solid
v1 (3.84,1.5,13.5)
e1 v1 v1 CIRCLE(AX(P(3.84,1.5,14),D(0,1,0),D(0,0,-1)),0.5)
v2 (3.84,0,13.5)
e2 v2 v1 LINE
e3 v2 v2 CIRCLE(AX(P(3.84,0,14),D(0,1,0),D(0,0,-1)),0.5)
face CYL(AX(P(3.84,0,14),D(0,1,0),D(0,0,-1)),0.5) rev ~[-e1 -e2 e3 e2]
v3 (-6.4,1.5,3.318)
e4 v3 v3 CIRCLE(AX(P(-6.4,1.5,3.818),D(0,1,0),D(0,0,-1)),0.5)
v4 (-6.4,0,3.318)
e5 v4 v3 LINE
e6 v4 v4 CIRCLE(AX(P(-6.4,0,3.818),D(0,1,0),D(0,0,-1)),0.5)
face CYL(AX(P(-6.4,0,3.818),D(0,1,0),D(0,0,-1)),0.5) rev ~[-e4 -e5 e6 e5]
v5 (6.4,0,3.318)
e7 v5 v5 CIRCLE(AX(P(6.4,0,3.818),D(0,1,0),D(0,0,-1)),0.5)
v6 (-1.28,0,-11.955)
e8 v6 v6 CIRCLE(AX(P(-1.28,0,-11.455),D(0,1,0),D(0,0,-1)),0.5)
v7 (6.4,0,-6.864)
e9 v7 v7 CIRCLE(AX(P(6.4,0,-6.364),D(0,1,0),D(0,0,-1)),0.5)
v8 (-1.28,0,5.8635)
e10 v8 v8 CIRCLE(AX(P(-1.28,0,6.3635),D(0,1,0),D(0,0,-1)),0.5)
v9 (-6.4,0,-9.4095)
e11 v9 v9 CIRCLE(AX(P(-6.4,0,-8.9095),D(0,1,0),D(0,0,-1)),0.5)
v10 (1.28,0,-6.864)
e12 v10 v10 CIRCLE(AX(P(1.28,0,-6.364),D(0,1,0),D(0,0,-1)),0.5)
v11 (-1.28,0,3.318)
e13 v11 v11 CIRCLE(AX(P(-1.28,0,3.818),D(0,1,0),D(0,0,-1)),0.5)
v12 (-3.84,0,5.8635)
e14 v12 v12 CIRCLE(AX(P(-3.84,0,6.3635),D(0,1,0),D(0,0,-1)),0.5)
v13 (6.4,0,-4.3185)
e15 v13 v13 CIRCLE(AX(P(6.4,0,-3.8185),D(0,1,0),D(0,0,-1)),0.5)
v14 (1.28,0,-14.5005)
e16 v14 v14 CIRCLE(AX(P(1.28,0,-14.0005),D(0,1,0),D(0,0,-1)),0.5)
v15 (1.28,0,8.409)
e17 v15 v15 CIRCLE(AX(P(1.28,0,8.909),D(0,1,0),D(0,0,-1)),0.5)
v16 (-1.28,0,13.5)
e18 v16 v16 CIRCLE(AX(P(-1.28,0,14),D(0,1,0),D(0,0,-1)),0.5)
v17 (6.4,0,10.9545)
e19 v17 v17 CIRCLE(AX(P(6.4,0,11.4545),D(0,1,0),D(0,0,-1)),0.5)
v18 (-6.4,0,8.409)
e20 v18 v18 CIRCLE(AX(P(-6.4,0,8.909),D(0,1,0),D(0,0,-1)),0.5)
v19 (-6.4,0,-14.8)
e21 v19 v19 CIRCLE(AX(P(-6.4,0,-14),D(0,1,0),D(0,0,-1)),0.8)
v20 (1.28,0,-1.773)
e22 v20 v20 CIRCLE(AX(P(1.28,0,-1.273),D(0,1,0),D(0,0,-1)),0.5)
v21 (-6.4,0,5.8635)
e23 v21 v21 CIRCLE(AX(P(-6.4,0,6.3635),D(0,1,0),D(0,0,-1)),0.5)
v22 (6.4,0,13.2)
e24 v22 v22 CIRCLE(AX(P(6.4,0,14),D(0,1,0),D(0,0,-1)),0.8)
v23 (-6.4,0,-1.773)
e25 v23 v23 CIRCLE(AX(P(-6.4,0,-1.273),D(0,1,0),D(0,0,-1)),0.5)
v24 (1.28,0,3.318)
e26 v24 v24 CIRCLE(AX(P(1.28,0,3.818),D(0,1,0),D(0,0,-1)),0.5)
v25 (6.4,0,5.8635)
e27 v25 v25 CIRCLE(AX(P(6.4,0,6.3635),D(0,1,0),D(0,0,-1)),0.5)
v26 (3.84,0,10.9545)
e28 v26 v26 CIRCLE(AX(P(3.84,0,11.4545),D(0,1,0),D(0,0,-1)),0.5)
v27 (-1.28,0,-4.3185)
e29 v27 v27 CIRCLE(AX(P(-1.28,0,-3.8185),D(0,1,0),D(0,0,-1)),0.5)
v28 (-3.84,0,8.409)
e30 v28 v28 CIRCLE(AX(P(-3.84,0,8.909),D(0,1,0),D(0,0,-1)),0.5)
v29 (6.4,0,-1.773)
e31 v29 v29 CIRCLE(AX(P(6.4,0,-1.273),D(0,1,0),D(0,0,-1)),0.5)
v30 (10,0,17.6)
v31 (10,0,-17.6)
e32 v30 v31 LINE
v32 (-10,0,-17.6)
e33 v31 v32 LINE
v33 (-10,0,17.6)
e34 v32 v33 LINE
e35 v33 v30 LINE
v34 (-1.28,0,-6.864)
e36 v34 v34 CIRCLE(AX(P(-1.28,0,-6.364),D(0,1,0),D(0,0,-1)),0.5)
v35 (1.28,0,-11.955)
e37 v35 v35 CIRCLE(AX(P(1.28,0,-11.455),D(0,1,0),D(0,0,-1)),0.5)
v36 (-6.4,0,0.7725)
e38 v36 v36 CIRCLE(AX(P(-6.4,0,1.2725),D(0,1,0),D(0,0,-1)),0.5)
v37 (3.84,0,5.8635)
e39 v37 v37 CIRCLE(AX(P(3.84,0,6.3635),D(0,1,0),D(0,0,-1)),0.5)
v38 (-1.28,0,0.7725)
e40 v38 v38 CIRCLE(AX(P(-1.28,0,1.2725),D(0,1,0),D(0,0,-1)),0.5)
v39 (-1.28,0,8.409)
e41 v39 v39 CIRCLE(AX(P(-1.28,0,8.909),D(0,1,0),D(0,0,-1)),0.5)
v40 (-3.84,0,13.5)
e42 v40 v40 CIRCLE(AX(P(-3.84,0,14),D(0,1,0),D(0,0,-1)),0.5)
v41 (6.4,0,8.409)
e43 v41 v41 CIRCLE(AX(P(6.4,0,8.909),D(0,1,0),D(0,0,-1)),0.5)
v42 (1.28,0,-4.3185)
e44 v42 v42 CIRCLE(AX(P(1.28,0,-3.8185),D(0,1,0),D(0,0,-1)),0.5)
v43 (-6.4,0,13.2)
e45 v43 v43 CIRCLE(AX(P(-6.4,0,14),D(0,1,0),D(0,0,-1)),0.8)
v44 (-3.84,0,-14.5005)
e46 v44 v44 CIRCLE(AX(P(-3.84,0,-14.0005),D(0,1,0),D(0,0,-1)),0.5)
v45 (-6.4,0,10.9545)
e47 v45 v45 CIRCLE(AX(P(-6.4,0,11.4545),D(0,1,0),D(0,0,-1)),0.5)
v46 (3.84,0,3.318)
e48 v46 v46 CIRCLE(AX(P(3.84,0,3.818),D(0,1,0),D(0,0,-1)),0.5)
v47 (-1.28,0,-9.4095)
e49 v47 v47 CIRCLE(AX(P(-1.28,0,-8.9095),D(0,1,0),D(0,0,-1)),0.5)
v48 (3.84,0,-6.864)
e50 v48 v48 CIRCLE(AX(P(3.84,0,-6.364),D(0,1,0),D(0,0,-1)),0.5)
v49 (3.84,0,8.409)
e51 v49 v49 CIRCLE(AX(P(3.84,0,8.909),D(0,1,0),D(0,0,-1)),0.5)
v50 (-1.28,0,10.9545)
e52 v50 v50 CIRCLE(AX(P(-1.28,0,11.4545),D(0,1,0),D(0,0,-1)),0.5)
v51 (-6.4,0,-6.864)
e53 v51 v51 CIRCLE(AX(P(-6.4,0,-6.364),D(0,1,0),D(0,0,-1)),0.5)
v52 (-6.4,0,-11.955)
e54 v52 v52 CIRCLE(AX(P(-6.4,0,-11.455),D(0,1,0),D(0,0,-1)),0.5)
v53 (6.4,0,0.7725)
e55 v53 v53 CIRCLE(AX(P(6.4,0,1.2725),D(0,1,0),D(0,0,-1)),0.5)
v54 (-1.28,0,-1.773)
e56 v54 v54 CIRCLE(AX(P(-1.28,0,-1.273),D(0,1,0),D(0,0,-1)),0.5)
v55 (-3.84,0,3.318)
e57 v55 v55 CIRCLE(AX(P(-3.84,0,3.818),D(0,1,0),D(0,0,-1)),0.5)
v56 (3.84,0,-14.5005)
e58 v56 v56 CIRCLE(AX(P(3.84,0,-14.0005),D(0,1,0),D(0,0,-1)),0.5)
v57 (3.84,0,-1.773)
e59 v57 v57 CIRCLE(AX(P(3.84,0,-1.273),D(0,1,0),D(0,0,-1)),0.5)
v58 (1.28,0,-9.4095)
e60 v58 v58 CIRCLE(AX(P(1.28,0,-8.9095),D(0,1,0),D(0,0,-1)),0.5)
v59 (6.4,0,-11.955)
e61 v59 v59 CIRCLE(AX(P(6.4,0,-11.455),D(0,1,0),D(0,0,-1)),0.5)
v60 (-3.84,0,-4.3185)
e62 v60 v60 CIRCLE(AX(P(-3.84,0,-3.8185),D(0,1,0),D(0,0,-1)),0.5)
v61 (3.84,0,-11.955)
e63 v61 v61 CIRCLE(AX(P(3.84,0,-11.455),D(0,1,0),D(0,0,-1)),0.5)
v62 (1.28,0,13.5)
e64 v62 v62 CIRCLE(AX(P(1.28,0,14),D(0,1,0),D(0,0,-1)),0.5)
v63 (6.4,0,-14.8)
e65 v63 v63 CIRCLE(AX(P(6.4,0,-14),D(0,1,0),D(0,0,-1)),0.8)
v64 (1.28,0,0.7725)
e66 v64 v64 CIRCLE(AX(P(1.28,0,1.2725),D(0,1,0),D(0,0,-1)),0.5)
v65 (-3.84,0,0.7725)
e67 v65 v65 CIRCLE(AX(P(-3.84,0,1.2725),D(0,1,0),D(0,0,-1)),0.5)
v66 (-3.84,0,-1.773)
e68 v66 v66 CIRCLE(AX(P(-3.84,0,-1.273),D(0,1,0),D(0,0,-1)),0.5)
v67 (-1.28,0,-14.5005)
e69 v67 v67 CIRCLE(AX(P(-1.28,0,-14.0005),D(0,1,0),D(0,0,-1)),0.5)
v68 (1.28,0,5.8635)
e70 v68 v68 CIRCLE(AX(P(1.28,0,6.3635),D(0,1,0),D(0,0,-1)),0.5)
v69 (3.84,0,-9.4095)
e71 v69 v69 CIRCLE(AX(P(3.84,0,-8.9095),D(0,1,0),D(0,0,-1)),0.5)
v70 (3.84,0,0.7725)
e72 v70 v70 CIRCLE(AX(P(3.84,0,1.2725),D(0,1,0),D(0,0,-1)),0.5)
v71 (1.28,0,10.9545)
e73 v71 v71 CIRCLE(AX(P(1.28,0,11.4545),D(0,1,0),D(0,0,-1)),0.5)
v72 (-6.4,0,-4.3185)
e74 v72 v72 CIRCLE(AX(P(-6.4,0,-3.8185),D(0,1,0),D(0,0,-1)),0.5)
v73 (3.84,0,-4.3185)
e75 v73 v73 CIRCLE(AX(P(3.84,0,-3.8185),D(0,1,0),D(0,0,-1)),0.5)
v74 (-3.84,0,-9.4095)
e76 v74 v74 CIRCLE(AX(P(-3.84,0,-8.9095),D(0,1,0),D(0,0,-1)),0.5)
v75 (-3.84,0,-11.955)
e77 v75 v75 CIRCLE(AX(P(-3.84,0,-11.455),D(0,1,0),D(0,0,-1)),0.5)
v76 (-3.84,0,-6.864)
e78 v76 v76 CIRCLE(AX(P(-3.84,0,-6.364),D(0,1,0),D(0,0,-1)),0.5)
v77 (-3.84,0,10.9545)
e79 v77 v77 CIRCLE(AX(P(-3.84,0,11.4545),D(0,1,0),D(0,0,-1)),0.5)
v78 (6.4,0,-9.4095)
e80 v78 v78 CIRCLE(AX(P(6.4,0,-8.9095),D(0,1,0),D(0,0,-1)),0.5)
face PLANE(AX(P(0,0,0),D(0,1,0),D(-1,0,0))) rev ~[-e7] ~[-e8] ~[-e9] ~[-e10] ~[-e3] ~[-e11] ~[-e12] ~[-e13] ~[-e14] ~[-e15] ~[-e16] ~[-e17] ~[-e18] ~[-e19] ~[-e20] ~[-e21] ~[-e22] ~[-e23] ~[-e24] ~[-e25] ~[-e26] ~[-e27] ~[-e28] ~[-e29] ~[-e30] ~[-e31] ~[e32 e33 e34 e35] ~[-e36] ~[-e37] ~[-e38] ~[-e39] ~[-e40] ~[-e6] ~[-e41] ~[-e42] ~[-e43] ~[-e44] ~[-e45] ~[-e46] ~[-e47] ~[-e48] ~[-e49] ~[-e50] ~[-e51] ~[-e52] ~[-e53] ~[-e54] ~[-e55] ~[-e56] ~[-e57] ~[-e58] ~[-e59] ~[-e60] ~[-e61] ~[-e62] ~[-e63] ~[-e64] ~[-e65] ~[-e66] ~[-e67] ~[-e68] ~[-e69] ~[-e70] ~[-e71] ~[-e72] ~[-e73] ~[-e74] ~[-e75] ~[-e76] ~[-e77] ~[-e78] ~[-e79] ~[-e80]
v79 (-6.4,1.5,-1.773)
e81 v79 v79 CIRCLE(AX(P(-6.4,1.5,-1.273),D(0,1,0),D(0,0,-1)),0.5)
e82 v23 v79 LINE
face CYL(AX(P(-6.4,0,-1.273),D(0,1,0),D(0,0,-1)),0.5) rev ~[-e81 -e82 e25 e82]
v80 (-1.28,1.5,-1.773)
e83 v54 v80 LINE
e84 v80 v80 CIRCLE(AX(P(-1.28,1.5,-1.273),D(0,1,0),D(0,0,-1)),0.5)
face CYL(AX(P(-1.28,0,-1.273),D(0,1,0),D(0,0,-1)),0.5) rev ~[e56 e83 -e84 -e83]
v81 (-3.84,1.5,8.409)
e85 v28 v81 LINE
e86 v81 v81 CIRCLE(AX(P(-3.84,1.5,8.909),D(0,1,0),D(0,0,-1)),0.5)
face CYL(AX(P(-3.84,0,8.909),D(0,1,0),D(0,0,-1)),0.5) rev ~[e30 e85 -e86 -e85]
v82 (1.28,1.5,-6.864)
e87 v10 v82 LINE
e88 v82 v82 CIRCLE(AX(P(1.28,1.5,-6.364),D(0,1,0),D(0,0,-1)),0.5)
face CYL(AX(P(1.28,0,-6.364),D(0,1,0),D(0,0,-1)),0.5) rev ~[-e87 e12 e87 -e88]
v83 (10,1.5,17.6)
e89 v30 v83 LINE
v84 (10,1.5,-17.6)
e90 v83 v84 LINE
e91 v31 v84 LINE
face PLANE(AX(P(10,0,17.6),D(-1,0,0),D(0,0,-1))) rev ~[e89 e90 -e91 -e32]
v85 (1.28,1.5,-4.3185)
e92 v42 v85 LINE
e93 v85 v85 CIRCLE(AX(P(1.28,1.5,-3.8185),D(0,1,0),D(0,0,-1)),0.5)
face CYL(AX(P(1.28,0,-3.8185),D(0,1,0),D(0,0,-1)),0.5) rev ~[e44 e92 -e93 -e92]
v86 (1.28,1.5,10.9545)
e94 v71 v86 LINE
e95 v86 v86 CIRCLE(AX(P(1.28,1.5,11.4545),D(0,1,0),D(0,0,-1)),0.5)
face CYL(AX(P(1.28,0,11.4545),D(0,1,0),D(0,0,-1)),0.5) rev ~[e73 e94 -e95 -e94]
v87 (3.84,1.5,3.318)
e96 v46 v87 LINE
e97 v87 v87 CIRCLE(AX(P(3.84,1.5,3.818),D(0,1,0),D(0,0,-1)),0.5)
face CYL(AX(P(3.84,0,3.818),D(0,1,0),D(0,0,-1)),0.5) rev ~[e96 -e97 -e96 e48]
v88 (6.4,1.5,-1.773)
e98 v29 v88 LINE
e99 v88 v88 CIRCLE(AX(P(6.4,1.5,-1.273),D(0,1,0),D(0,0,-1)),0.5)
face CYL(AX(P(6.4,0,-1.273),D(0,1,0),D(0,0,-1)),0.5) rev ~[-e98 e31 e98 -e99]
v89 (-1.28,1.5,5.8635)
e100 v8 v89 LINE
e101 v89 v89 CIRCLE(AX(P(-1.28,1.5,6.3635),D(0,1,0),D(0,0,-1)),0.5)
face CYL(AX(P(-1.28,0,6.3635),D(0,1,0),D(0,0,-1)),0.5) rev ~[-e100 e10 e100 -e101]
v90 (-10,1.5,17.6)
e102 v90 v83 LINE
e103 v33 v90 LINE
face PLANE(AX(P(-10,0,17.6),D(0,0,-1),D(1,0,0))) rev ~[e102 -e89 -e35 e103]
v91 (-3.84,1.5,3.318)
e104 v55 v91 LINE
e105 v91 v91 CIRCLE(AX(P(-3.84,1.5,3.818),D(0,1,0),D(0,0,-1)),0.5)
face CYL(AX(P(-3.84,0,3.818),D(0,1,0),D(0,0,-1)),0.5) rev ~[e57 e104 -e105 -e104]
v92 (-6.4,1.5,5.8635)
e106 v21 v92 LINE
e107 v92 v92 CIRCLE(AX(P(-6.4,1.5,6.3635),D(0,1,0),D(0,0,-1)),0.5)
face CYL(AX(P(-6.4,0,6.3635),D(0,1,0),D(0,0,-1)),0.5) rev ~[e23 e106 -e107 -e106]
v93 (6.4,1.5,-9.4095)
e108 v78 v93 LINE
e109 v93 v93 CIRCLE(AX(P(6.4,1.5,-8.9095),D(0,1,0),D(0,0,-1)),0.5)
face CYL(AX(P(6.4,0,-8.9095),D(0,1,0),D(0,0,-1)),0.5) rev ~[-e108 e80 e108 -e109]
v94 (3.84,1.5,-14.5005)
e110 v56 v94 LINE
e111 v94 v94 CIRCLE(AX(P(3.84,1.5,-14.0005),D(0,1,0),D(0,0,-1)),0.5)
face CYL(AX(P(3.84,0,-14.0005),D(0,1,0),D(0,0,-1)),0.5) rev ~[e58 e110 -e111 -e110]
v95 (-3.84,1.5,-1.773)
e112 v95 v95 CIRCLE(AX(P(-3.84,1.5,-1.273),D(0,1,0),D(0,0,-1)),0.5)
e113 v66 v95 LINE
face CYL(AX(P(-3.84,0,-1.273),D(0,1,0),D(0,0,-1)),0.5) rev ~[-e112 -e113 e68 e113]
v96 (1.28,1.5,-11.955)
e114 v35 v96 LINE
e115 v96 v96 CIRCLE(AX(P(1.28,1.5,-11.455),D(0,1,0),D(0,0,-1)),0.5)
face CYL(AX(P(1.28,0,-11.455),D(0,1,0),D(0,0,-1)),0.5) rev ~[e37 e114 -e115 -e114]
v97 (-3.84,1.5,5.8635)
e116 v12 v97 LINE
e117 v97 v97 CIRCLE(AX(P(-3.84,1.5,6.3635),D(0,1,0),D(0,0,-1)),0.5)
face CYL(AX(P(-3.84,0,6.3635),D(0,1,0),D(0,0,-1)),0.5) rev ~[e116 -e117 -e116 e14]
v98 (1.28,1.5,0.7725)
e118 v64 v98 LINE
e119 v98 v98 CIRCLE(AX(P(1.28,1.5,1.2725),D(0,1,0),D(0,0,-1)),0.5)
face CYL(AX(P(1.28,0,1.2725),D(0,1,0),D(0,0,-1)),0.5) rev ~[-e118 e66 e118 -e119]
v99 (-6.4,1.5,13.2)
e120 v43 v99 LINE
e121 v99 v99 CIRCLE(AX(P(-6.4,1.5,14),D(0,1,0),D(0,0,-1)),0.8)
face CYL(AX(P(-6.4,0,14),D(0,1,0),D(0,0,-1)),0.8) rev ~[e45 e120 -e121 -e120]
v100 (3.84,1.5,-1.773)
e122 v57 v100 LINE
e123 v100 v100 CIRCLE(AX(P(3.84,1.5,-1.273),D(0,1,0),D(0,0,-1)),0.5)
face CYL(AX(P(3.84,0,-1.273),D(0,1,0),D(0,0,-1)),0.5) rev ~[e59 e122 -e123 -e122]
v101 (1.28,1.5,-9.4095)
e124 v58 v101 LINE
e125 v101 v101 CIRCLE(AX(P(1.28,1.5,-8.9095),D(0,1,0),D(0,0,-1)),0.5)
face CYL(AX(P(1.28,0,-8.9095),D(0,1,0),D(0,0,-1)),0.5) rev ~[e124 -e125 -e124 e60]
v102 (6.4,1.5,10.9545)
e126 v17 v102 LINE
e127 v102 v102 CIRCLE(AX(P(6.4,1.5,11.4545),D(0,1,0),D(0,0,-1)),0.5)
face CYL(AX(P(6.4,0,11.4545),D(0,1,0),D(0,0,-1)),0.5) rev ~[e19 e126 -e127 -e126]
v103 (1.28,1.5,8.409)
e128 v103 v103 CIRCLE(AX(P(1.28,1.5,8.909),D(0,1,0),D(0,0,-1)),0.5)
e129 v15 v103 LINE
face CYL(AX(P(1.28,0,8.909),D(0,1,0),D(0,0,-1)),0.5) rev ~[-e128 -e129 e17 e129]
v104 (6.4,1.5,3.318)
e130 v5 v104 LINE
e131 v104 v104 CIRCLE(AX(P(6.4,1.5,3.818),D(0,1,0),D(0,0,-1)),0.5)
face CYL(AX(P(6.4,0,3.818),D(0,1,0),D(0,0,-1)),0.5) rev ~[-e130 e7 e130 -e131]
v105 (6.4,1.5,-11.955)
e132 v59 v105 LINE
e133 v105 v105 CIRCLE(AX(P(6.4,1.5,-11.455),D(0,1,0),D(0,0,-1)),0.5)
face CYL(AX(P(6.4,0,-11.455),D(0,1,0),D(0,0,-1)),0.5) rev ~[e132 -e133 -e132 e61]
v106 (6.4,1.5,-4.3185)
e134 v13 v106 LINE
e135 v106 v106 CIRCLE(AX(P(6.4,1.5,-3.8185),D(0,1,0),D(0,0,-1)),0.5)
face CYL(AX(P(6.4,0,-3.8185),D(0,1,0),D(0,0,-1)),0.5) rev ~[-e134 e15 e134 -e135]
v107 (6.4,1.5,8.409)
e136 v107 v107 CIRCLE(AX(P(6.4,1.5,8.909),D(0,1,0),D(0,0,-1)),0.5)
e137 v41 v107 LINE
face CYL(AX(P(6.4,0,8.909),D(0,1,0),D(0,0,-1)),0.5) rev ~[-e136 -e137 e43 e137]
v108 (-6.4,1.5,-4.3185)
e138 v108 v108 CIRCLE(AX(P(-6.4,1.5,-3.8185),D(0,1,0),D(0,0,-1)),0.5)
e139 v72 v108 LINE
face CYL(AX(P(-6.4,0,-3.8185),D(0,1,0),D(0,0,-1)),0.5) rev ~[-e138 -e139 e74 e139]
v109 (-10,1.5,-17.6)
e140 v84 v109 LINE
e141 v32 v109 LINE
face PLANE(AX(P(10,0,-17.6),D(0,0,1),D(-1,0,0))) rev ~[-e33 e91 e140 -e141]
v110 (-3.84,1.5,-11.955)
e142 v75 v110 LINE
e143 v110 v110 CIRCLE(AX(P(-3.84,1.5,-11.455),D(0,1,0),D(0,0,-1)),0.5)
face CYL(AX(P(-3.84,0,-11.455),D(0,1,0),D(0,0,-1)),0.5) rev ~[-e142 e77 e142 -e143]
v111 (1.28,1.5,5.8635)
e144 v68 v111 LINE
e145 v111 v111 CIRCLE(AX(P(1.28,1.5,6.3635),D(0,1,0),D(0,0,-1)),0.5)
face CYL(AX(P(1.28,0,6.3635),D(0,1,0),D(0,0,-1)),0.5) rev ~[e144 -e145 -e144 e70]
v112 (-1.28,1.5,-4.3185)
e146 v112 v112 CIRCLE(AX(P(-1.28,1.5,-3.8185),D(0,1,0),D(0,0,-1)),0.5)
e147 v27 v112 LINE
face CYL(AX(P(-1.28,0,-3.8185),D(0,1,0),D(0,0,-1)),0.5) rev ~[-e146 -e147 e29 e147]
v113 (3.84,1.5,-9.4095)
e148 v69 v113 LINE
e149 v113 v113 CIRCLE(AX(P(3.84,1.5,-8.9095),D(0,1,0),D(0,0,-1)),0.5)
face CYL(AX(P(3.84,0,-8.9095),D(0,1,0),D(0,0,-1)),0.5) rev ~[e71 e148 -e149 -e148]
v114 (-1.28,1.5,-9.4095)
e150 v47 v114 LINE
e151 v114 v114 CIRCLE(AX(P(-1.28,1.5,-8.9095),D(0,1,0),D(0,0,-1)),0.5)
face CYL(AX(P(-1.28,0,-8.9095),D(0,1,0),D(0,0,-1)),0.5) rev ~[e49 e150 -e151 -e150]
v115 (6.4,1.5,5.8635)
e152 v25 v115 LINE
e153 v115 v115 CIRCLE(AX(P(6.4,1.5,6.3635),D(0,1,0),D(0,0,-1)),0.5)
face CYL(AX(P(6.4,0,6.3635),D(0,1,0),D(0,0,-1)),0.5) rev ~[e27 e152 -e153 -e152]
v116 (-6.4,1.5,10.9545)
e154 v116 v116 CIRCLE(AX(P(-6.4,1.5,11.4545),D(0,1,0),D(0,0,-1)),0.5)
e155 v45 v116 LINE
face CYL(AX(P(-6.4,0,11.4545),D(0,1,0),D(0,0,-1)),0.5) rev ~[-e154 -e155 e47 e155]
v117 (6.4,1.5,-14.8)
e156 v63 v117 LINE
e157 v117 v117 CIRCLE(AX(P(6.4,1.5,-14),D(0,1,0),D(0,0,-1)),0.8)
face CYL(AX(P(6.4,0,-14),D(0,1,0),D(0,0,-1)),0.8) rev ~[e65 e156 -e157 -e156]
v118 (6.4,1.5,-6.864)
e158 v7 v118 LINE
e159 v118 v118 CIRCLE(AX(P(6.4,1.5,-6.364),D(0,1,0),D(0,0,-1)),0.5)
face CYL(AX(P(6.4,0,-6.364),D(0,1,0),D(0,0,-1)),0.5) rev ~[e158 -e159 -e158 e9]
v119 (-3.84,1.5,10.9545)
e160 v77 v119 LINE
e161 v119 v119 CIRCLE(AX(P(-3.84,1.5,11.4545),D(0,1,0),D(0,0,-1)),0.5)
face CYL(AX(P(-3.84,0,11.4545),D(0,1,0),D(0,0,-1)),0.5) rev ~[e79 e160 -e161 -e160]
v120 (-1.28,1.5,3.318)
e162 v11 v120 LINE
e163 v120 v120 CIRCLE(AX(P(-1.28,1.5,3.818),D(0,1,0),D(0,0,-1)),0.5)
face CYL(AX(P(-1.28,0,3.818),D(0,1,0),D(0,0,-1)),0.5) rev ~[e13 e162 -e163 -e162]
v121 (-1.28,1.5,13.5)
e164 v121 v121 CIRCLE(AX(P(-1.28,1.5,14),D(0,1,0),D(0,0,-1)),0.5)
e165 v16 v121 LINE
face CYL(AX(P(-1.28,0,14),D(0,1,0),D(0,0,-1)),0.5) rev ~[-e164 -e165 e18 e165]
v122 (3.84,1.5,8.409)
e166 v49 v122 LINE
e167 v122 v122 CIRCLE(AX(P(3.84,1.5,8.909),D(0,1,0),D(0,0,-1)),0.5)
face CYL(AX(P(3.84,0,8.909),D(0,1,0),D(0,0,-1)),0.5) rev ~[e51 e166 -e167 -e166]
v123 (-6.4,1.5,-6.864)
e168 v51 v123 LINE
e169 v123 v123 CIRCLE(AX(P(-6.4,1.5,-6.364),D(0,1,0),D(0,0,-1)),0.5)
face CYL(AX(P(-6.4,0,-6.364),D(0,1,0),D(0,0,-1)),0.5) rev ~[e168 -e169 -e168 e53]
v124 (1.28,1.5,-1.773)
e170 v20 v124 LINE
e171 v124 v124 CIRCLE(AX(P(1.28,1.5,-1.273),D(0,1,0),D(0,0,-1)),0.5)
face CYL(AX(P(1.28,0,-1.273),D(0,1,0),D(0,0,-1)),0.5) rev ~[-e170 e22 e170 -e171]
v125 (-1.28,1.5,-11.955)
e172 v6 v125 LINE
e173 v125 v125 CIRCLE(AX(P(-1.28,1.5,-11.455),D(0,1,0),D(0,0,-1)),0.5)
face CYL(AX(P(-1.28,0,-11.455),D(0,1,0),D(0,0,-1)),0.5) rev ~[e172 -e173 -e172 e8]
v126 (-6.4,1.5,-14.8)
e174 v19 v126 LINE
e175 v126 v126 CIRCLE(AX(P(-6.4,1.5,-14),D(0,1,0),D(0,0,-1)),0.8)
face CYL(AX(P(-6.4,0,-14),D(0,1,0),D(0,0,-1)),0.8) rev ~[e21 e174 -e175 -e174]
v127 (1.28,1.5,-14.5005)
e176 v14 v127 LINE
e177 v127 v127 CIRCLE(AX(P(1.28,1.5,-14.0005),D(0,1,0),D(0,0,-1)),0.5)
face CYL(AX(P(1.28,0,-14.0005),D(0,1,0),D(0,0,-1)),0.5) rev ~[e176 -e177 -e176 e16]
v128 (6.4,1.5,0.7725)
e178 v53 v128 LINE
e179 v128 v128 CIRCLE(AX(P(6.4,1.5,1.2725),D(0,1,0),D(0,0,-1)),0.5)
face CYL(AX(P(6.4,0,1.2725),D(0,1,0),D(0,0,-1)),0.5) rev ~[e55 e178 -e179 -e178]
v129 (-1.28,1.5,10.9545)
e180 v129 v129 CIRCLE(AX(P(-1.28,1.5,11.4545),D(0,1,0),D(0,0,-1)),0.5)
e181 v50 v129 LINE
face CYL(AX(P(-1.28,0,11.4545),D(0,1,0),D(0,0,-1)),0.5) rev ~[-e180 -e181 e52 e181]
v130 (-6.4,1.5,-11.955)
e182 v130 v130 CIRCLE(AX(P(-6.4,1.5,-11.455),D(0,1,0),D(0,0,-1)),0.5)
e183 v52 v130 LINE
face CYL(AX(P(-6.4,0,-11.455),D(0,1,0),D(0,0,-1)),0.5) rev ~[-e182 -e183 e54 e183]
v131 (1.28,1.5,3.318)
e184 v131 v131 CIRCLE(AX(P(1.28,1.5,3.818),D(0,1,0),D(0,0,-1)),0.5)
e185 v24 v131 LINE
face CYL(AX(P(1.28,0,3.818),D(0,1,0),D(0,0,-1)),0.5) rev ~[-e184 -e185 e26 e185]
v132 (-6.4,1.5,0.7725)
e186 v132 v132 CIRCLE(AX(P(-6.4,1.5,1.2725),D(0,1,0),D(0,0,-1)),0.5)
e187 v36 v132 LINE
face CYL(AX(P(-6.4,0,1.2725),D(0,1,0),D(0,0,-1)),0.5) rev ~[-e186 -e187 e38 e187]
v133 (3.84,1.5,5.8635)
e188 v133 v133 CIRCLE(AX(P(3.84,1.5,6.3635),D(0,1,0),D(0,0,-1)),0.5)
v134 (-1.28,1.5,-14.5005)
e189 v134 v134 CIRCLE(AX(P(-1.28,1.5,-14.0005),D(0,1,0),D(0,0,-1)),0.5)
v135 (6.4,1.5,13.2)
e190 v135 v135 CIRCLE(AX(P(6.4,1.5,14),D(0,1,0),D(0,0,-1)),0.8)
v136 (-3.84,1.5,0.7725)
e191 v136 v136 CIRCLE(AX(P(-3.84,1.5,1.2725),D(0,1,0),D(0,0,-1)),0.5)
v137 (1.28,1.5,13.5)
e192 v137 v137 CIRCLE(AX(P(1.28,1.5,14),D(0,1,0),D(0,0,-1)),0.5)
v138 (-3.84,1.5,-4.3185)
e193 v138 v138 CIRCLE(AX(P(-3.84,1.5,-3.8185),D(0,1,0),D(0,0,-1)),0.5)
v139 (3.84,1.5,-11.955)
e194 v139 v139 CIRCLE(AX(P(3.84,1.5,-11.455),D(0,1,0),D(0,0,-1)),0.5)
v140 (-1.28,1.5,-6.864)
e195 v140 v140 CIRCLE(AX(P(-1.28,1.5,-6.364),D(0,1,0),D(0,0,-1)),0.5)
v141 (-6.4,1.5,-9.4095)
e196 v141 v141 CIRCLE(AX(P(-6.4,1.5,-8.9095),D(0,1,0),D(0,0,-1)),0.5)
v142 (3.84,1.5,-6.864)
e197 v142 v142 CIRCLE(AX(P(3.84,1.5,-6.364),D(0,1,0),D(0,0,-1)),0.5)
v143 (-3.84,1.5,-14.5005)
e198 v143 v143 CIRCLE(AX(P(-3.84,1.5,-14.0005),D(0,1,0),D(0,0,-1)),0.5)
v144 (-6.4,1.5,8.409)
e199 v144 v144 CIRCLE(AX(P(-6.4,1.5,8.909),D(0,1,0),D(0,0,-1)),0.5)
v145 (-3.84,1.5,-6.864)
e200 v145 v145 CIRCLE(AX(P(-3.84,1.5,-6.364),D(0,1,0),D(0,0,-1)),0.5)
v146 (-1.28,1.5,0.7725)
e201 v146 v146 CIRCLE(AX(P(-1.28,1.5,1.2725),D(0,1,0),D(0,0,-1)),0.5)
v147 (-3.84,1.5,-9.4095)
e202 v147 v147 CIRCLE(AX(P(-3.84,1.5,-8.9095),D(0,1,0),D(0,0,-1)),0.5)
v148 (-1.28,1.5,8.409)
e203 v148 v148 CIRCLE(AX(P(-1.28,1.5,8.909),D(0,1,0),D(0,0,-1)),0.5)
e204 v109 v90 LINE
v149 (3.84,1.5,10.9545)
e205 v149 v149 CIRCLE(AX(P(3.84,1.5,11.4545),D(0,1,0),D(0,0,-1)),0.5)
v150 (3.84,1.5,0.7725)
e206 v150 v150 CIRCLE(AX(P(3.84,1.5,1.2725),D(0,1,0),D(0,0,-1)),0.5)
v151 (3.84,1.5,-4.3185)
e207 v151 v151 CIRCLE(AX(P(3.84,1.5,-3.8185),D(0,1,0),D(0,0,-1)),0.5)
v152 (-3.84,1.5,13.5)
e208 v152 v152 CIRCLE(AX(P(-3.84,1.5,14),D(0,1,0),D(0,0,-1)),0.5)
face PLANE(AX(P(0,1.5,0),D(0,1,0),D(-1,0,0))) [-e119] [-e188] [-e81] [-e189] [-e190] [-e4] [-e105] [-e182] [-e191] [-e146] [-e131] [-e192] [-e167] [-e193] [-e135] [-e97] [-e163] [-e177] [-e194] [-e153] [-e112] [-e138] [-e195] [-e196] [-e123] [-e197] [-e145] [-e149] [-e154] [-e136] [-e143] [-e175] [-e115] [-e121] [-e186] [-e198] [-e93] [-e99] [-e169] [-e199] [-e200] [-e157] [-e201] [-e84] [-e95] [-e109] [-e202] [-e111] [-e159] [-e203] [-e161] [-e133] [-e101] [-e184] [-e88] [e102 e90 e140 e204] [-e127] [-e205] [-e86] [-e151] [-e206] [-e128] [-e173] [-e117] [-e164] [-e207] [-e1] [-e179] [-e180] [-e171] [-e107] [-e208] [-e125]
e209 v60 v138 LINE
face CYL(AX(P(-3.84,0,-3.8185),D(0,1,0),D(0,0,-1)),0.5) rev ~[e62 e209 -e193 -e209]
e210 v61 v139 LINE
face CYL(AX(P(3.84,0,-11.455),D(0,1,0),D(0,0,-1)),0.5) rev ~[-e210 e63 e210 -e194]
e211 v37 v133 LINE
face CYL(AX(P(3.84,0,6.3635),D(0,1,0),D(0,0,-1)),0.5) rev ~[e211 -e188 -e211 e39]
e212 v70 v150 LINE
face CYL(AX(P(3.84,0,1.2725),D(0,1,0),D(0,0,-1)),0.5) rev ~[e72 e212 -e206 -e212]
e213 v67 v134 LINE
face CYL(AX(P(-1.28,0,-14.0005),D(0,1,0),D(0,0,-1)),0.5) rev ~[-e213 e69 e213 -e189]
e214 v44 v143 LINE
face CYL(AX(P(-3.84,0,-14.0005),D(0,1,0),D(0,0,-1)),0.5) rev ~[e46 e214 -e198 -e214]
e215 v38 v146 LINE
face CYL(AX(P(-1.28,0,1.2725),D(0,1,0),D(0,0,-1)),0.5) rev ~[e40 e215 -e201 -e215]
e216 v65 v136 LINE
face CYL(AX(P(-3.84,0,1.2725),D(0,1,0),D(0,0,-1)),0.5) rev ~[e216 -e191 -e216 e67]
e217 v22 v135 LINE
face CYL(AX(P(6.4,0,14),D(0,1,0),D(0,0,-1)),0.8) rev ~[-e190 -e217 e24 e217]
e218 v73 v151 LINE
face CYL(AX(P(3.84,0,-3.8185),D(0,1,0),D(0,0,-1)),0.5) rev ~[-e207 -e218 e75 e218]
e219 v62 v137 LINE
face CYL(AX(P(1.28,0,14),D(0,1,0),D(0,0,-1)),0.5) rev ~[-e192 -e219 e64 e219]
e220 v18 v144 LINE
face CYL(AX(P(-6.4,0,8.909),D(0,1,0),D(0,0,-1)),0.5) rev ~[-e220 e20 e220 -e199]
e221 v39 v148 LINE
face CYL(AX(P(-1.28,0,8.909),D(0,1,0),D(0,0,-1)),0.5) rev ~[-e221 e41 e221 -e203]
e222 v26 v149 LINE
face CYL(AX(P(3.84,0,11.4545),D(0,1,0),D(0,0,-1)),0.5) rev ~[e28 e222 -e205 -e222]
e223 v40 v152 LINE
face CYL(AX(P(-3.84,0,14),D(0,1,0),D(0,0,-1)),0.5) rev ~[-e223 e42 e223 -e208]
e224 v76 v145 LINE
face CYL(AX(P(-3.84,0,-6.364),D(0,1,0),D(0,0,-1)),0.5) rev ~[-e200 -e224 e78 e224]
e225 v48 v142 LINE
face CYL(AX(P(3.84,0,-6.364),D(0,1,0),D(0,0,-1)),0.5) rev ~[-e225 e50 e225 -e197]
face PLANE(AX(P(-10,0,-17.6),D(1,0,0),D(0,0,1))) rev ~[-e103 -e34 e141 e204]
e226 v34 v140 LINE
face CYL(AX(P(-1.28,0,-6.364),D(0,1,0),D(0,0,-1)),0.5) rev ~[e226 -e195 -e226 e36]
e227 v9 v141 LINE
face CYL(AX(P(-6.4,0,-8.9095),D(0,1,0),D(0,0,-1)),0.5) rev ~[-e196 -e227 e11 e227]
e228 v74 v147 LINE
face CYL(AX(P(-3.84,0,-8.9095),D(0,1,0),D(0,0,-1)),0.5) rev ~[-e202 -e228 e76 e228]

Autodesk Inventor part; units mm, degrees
ref_plane "YZ Plane" through (0, 0, 0) normal (1, 0, 0) x (0, 1, 0)
ref_plane "XZ Plane" through (0, 0, 0) normal (0, 1, 0) x (-1, 0, 0)
ref_plane "XY Plane" through (0, 0, 0) normal (0, 0, 1) x (1, 0, 0)
sketch "Skizze1" plane through (0, 0, 0) normal (0, 1, 0) x (-1, 0, 0)
  line L0 (10, 17.6) -> (-10, 17.6)
  line L1 (-10, 17.6) -> (-10, -17.6)
  line L2 (-10, -17.6) -> (10, -17.6)
  line L3 (10, -17.6) -> (10, 17.6)
  line L4 (6.4, 14) -> (-6.4, 14) construction
  line L5 (-6.4, 14) -> (-6.4, -14) construction
  line L6 (-6.4, -14) -> (6.4, -14) construction
  line L7 (6.4, -14) -> (6.4, 14) construction
  line L8 (0, 17.6) -> (0, -17.6) construction
  line L9 (10, 0) -> (-10, 0) construction
  point P0 (0, 0)
  point P1 (0, 0)
  dimension "d0" = 12.8
  dimension "d1" = 28
  dimension "d2" = 20
  dimension "d3" = 3.6
  dimension "d4" = 3.6
extrude "Extrusion1" add sketch "Skizze1" along normal blind 1.5
hole "Bohrung1" at (6.4, 0, 14) direction (0, 1, 0) diameter 1 end through all
pattern_linear "Rechteckige Anordnung1" count 12 spacing 2.5455 along (0, 0, -1) count 6 spacing 2.56 along (-1, 0, 0) of "Bohrung1"
sketch "Skizze2" plane through (0, 0, 0) normal (0, -1, 0) x (1, 0, 0)
  circle A0 centre (6.4, 14) radius 0.5 projected
  circle A1 centre (-6.4, 14) radius 0.5 projected
  circle A2 centre (-6.4, -14) radius 0.5 projected
  circle A3 centre (6.4, -14) radius 0.5 projected
  circle A4 centre (-6.4, -14) radius 0.5 projected
  point P0 (0, 0)
hole "Bohrung2" at (6.4, 0, -14) at (-6.4, 0, -14) at (-6.4, 0, 14) at (6.4, 0, 14) direction (0, 1, 0) diameter 1.6 end through all
equation "\"d4\" = d3"
properties part number "PCB_PowerSupply"
